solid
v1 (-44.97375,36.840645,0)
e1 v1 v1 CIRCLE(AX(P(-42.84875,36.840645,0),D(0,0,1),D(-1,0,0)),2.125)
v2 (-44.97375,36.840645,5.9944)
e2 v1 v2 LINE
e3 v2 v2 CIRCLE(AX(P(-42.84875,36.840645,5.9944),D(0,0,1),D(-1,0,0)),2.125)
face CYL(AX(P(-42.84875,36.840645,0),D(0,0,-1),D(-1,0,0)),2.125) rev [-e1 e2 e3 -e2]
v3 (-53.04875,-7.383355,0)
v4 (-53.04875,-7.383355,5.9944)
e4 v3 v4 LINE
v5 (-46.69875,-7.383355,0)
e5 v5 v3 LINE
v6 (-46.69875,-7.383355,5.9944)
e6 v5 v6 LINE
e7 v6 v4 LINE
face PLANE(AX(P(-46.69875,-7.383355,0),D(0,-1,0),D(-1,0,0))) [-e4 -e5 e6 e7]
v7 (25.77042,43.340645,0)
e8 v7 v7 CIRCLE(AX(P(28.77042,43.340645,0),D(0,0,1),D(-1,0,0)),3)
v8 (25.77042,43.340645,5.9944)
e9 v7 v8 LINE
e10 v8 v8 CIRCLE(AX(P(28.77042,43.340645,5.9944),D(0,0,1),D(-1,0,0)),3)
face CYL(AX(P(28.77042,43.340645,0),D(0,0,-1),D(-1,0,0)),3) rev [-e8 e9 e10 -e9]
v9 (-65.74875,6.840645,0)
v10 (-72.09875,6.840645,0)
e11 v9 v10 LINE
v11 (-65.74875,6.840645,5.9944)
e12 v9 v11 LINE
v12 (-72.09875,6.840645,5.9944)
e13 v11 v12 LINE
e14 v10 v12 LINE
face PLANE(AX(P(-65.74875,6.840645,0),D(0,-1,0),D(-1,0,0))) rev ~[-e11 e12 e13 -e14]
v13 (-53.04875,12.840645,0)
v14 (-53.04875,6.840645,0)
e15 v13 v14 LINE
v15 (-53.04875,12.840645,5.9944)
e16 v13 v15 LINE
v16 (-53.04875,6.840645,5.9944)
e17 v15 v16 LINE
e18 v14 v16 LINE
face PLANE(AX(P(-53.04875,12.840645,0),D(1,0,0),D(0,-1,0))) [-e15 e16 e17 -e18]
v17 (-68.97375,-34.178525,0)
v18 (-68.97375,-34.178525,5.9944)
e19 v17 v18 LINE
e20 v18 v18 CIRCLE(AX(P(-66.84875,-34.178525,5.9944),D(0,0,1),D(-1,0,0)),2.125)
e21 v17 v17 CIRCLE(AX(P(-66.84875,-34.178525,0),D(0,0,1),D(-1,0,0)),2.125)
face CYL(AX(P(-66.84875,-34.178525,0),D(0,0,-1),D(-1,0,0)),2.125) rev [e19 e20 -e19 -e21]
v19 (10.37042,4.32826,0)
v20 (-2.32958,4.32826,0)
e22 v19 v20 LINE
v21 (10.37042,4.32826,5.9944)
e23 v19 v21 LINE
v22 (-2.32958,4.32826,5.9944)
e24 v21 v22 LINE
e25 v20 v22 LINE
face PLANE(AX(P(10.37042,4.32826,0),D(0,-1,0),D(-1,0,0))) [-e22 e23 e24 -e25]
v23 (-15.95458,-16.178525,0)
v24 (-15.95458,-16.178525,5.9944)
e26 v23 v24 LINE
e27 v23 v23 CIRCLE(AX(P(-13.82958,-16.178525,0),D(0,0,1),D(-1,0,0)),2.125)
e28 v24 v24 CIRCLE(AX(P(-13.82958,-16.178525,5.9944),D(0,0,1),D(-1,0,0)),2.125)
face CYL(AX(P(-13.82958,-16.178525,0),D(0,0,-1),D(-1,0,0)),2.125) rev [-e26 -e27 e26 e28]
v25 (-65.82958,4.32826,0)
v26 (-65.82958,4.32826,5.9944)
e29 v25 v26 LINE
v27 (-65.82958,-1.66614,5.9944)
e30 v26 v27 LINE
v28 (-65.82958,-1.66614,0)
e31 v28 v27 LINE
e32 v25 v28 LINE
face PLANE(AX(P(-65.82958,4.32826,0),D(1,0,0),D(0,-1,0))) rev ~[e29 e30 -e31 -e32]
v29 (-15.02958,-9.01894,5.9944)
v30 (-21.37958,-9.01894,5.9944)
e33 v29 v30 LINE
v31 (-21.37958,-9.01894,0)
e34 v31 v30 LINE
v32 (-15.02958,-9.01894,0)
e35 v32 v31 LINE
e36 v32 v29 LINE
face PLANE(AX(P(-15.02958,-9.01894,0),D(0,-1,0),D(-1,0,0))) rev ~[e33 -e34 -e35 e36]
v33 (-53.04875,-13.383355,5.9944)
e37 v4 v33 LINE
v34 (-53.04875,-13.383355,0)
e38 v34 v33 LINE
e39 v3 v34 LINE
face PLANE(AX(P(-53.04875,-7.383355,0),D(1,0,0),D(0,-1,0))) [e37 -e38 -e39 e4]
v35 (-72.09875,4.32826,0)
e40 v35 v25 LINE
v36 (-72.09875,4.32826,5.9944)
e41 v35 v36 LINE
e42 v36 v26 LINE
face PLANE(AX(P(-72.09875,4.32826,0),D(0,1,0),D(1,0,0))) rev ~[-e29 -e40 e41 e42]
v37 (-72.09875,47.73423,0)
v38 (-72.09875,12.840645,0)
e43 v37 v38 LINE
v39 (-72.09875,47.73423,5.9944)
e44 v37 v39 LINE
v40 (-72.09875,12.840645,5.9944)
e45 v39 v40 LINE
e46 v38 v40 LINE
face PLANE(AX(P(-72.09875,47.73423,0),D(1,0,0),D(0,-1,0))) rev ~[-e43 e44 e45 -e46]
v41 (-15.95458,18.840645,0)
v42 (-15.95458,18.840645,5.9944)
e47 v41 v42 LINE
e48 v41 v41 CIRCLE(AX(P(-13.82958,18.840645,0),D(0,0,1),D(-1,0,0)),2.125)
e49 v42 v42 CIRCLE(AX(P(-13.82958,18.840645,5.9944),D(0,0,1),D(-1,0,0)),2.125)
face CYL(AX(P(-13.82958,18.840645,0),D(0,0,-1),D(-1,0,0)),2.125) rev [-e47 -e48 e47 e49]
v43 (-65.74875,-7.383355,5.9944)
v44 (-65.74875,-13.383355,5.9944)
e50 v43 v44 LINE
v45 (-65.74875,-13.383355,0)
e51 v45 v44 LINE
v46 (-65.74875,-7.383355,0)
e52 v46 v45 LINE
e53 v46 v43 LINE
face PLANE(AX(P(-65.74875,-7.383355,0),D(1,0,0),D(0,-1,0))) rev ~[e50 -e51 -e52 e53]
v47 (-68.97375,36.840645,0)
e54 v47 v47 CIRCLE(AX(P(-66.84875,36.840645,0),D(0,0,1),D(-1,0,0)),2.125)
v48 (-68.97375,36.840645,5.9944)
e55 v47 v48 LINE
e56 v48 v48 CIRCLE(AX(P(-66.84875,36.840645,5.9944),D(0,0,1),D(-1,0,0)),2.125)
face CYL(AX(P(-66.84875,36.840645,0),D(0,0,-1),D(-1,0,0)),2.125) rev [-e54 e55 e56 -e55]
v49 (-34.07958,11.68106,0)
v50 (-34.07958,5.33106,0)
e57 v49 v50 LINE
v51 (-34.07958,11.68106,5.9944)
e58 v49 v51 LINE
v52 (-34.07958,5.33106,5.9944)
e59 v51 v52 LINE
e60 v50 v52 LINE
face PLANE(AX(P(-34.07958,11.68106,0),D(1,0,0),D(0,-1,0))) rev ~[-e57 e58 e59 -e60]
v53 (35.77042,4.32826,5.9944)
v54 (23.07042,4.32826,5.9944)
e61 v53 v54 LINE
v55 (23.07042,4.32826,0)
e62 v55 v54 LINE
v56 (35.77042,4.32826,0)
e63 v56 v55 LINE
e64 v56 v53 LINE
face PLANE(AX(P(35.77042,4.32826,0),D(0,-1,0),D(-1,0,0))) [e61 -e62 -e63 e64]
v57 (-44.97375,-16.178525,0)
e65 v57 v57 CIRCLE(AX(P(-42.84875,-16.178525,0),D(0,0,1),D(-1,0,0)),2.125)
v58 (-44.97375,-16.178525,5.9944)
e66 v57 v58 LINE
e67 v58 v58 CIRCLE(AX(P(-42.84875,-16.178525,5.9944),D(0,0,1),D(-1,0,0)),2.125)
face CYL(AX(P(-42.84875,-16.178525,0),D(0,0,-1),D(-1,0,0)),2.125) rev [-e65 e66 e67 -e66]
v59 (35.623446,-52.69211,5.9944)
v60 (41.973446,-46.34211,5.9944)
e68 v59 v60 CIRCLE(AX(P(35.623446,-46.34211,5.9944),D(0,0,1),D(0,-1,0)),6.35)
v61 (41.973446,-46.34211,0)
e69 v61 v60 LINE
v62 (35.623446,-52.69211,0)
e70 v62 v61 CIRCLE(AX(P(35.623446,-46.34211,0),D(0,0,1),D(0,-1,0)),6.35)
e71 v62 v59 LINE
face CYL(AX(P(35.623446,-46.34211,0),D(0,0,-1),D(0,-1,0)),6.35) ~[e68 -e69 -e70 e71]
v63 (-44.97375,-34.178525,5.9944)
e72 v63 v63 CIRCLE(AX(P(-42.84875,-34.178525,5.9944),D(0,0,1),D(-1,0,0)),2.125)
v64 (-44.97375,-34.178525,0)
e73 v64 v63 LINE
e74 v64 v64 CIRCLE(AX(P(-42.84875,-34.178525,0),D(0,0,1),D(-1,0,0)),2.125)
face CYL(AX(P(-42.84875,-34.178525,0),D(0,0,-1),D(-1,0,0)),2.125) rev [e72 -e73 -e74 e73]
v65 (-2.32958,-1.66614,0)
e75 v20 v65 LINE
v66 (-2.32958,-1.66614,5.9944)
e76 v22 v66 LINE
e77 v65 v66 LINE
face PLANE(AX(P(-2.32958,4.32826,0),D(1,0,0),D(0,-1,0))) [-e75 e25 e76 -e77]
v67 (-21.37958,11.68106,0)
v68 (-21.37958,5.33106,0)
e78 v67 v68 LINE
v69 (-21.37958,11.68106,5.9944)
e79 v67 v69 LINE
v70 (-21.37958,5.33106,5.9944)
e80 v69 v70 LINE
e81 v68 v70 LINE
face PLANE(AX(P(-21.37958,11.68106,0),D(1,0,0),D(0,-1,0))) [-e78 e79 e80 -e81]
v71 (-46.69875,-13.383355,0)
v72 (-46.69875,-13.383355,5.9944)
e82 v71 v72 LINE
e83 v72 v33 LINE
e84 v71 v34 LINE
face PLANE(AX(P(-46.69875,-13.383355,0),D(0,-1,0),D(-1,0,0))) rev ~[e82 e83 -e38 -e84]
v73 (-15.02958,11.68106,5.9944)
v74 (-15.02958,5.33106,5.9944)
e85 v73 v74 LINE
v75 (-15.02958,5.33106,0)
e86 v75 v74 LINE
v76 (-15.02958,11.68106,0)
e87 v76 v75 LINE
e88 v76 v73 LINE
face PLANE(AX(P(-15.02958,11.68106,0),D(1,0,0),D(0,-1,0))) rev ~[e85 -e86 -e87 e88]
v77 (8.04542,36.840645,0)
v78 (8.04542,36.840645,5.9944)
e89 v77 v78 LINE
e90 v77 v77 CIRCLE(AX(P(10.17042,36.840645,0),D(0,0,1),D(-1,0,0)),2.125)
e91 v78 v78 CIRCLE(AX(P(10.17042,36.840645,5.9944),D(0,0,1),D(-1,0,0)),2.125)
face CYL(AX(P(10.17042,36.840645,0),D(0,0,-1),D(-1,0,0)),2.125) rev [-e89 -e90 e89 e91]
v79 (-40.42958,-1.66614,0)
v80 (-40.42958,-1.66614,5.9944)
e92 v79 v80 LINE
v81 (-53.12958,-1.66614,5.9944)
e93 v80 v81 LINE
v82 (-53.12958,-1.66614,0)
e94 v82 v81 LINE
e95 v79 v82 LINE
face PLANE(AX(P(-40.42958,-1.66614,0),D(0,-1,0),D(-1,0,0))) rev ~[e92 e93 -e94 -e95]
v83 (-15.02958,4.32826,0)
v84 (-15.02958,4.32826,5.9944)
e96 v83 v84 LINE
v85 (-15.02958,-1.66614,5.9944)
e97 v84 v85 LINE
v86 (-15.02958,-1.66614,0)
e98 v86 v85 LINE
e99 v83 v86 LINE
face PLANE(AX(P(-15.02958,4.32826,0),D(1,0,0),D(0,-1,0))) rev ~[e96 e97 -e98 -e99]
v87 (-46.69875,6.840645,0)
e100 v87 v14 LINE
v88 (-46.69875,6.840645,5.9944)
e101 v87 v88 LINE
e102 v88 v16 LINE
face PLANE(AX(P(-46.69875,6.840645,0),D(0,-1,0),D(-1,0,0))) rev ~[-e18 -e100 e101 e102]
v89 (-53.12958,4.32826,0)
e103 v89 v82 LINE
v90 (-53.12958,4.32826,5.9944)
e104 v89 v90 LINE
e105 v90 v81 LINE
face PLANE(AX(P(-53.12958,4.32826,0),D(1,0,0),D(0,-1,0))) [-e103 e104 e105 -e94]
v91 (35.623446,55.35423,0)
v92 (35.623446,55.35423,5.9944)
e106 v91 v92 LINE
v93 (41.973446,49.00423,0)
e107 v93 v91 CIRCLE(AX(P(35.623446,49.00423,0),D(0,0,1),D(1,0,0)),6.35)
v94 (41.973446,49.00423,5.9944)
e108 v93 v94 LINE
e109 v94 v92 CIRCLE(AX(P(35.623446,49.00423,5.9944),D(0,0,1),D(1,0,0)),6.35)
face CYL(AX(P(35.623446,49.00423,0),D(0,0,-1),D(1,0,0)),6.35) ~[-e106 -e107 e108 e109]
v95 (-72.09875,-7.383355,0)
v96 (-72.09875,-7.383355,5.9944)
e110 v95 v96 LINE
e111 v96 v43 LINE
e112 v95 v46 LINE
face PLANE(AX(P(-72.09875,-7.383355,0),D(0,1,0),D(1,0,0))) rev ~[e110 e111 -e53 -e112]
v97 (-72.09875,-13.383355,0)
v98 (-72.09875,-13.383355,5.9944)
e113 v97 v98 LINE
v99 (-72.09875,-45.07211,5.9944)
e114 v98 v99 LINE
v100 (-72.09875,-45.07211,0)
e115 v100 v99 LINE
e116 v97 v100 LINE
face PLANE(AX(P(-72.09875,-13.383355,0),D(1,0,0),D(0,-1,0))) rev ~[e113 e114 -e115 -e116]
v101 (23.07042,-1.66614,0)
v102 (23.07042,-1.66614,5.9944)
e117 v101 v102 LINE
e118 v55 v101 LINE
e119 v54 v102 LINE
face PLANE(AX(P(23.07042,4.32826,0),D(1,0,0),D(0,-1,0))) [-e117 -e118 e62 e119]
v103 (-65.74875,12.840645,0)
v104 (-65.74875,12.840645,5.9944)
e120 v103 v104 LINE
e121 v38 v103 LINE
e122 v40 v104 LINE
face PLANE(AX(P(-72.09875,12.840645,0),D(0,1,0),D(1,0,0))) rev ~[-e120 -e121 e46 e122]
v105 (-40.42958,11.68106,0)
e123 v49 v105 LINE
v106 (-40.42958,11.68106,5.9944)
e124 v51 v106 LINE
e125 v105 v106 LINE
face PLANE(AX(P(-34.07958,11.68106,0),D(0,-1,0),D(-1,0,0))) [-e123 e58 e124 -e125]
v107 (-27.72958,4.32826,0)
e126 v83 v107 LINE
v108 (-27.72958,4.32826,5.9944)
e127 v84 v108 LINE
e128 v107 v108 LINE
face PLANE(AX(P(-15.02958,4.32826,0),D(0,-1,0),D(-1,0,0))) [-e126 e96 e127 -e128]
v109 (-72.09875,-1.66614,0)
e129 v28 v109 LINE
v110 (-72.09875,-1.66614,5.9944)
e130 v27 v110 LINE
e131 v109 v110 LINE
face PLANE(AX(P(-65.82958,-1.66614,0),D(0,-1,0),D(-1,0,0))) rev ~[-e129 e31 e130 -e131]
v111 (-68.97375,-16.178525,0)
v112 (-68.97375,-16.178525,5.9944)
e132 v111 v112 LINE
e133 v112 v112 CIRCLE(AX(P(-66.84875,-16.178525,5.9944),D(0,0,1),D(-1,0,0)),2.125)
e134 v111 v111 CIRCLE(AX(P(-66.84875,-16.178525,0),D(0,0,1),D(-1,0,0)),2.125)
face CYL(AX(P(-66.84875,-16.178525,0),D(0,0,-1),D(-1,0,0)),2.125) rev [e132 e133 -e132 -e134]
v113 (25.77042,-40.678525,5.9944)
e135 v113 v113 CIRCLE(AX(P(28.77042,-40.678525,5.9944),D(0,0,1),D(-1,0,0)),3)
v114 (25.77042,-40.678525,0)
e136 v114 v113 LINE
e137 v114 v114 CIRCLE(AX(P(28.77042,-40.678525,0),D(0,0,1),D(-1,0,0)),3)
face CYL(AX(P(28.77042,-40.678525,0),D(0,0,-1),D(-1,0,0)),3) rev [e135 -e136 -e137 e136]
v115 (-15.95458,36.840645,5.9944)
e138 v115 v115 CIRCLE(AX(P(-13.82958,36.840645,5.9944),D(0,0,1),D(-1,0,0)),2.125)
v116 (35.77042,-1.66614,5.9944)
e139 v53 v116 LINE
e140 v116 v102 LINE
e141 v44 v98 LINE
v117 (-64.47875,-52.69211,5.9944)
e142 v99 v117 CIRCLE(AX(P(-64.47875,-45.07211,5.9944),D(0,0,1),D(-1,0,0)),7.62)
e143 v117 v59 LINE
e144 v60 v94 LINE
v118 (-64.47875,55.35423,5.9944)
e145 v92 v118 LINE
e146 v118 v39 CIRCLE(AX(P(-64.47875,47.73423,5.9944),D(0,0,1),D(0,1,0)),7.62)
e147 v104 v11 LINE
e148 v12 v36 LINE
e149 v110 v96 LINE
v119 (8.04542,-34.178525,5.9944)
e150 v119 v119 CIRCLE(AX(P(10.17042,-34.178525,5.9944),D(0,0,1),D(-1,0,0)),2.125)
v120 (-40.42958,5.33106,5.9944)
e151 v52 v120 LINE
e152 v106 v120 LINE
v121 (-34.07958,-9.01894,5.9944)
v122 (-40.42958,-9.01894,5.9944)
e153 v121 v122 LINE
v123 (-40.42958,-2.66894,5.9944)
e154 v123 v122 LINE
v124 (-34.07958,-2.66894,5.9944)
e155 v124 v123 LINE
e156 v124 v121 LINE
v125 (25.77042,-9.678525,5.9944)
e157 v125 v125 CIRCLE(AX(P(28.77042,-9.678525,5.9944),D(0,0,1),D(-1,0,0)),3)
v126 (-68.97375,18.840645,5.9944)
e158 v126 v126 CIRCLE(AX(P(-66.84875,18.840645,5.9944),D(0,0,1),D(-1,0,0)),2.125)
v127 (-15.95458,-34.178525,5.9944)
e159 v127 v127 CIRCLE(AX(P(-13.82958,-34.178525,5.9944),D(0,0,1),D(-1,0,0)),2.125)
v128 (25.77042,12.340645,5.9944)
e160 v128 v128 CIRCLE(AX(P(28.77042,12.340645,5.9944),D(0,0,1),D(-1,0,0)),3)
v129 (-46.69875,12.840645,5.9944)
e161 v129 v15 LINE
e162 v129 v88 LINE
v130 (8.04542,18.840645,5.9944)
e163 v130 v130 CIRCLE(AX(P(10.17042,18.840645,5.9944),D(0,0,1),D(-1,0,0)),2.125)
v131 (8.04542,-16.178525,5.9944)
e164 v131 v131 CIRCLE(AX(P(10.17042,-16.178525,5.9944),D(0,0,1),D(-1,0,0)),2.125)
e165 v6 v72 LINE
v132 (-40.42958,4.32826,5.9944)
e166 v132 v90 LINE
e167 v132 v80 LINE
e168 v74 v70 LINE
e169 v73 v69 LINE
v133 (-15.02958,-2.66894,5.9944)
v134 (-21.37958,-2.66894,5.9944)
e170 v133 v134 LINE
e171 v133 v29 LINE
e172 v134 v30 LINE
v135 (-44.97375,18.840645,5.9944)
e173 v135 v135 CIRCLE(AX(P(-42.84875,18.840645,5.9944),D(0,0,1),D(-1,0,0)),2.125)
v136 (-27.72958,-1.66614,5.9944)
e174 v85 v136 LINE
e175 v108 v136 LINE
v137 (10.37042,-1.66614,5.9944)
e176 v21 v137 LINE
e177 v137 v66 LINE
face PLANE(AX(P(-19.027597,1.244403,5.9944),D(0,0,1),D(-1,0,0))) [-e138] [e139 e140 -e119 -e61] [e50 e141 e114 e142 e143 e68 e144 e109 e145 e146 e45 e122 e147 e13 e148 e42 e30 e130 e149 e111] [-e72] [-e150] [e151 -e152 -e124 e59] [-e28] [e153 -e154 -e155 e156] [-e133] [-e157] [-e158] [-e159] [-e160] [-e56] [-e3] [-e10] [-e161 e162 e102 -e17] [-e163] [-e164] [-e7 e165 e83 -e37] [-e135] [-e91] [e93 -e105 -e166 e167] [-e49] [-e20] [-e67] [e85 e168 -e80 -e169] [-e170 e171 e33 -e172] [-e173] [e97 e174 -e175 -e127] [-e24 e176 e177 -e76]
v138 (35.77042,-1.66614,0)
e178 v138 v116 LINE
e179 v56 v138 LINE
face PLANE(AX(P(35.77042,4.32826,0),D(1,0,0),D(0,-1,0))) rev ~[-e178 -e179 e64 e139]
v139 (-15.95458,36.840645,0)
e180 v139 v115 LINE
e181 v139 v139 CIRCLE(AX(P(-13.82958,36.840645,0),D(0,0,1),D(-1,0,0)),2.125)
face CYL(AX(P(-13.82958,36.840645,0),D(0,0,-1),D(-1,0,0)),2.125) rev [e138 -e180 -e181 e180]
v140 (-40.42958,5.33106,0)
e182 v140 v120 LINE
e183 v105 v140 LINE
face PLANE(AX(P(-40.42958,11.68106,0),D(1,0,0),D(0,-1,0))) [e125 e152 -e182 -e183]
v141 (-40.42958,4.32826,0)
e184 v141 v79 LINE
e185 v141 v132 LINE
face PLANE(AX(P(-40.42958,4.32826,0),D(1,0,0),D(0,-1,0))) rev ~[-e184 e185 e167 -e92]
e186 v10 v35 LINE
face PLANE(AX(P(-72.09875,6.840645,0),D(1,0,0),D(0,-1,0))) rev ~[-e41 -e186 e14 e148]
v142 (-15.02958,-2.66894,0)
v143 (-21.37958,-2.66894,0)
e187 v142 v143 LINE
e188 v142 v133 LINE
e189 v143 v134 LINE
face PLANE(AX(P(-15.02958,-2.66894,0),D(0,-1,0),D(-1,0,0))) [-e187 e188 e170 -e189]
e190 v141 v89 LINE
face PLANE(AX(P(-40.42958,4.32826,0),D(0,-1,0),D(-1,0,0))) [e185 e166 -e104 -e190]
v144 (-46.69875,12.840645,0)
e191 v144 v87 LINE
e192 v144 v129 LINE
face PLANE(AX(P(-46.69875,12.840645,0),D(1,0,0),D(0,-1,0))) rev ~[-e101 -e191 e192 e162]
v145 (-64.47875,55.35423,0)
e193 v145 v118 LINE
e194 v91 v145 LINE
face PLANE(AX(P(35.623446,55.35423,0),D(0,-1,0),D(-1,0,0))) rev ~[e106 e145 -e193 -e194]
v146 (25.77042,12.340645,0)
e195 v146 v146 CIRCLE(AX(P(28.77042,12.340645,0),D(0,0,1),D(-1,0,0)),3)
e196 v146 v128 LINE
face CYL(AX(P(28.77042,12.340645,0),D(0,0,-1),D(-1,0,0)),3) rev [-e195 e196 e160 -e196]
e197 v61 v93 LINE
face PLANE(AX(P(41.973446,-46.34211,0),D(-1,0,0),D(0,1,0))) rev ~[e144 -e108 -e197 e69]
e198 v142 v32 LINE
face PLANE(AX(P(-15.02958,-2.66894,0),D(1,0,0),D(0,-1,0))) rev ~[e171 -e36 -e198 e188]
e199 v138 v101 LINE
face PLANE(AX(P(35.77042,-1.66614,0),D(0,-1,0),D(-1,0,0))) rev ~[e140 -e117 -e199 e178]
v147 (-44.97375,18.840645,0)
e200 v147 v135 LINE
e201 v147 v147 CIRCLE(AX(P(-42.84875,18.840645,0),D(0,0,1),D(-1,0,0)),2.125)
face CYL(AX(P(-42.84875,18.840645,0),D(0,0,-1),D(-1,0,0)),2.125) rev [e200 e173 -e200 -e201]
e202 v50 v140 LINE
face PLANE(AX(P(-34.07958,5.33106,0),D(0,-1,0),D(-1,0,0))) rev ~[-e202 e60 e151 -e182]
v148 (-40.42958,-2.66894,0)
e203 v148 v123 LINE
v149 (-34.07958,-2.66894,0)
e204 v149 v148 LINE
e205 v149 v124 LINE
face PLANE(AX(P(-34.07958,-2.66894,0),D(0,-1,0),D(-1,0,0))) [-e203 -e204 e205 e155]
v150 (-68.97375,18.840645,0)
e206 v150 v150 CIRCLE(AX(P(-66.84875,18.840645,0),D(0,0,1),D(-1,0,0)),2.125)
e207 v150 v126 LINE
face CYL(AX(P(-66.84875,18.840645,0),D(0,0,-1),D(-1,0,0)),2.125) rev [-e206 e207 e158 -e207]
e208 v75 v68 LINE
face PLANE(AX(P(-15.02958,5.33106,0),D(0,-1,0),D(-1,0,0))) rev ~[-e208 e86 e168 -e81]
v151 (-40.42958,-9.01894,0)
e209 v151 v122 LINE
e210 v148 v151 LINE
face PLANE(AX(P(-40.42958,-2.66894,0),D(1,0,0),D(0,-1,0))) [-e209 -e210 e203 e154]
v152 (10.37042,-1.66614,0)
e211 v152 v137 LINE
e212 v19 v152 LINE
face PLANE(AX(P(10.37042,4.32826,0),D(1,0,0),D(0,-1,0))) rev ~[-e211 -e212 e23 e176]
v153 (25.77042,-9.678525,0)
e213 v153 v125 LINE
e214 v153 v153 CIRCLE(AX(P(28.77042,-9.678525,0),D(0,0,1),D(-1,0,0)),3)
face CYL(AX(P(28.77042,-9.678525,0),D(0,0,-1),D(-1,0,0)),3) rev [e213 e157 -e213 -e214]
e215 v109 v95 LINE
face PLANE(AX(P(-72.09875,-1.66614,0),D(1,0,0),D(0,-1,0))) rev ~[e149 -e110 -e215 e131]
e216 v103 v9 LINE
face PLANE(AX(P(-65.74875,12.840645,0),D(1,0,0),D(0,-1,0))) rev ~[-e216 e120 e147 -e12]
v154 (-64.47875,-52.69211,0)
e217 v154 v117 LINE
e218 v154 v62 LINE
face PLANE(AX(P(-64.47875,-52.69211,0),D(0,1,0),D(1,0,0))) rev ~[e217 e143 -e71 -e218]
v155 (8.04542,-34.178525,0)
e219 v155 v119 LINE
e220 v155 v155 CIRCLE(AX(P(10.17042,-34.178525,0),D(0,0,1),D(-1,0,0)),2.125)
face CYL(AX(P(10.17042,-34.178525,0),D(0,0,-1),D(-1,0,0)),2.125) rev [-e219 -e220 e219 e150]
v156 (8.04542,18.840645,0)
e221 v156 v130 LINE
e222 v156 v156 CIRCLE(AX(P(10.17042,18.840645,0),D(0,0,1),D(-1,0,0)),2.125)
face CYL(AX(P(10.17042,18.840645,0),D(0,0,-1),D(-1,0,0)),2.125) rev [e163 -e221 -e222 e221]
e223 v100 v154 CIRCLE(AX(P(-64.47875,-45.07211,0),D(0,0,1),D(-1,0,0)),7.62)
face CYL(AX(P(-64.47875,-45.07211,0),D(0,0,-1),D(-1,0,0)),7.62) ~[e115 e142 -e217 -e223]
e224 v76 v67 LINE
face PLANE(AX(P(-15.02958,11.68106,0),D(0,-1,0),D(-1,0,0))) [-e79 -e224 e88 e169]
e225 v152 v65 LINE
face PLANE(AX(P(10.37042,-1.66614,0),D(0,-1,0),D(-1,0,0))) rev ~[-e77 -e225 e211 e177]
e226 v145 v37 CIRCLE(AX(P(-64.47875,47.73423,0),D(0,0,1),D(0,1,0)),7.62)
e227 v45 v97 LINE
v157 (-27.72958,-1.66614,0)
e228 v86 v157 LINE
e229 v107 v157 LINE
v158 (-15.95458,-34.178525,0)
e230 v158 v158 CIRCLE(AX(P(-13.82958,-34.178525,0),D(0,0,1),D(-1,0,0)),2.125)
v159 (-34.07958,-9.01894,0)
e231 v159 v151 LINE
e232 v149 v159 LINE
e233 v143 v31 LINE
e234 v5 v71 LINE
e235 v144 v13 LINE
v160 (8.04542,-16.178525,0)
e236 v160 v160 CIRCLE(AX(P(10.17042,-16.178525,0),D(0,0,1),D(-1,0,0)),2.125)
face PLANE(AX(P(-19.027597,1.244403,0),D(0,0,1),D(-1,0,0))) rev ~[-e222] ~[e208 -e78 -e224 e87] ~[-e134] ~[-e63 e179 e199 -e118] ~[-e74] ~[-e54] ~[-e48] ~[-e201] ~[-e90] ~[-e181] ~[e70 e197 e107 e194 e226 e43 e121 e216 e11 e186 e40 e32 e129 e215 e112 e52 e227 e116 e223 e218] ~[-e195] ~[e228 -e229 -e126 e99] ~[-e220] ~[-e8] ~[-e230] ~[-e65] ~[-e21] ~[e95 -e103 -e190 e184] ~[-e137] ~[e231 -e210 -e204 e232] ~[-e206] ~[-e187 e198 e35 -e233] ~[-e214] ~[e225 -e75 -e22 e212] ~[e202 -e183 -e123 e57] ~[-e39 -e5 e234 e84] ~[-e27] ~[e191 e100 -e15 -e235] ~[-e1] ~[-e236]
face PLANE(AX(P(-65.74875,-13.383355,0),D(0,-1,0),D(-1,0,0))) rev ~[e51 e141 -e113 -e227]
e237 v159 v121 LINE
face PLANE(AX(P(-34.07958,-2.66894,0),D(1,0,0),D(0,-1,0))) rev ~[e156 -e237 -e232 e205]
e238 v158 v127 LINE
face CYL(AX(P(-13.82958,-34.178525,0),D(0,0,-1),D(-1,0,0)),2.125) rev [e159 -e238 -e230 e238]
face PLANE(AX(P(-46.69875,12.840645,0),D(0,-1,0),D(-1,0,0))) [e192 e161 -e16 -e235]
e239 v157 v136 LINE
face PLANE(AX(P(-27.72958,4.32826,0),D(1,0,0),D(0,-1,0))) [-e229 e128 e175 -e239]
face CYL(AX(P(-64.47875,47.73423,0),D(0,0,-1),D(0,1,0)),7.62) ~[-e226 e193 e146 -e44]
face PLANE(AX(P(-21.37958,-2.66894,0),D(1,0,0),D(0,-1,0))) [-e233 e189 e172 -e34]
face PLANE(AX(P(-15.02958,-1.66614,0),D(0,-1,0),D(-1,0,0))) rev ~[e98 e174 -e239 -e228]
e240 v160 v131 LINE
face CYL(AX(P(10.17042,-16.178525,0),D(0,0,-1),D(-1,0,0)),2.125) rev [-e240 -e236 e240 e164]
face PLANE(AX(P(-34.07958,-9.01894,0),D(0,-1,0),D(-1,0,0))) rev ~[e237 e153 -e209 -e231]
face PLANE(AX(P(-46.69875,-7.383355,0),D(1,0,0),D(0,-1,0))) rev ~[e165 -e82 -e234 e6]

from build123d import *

# Parameters (mm, degrees)
SKETCH1_R           = 2.125
SKETCH1_R_2         = 3
SKETCH1_W           = 6.35
SKETCH1_H           = 6
SKETCH1_W_2         = 12.7
SKETCH1_H_2         = 5.9944
SKETCH1_H_3         = 6.35
BOSS_EXTRUDE1_DEPTH = 5.9944


with BuildPart() as part:
    # Sketch1 → Boss-Extrude1 (new body)
    with BuildSketch(Plane(origin=(0, 0, 0), x_dir=(-1, 0, 0), z_dir=(0, 0, 1))):
        with BuildLine():
            Line((70.702589937, 1.66614002), (72.098749997, 1.66614002))
            Line((72.098749997, 1.66614002), (72.098749997, 7.383354962))
            Line((72.098749997, 7.383354962), (65.748749997, 7.383354962))
            Line((65.748749997, 7.383354962), (65.748749997, 13.383354962))
            Line((65.748749997, 13.383354962), (72.098749997, 13.383354962))
            Line((72.098749997, 13.383354962), (72.098749997, 45.072109768))
            ThreePointArc((72.098749997, 45.072109768), (69.866903669, 50.460263441), (64.478749997, 52.692109768))
            Line((64.478749997, 52.692109768), (45.302589937, 52.692109768))
            Line((45.302589937, 52.692109768), (19.902589937, 52.692109768))
            Line((19.902589937, 52.692109768), (-35.623445702, 52.692109768))
            ThreePointArc((-35.623445702, 52.692109768), (-40.113573763, 50.832237829), (-41.973445702, 46.342109768))
            Line((-41.973445702, 46.342109768), (-41.973445702, -49.004229729))
            ThreePointArc((-41.973445702, -49.004229729), (-40.113573763, -53.494357789), (-35.623445702, -55.354229729))
            Line((-35.623445702, -55.354229729), (19.902589937, -55.354229729))
            Line((19.902589937, -55.354229729), (45.302589937, -55.354229729))
            Line((45.302589937, -55.354229729), (64.478749997, -55.354229729))
            ThreePointArc((64.478749997, -55.354229729), (69.866903669, -53.122383402), (72.098749997, -47.734229729))
            Line((72.098749997, -47.734229729), (72.098749997, -12.840645038))
            Line((72.098749997, -12.840645038), (65.748749997, -12.840645038))
            Line((65.748749997, -12.840645038), (65.748749997, -6.840645038))
            Line((65.748749997, -6.840645038), (72.098749997, -6.840645038))
            Line((72.098749997, -6.840645038), (72.098749997, -4.32825998))
            Line((72.098749997, -4.32825998), (70.702589937, -4.32825998))
            Line((70.702589937, -4.32825998), (65.829579937, -4.32825998))
            Line((65.829579937, -4.32825998), (65.829579937, 1.66614002))
            Line((65.829579937, 1.66614002), (70.702589937, 1.66614002))
        make_face()
        with Locations((-10.170420063, -18.840645038)):
            Circle(SKETCH1_R, mode=Mode.SUBTRACT)
        with Locations((66.848749997, -36.840645038)):
            Circle(SKETCH1_R, mode=Mode.SUBTRACT)
        with Locations((42.848749997, -18.840645038)):
            Circle(SKETCH1_R, mode=Mode.SUBTRACT)
        with Locations((-28.770420063, -43.34064498)):
            Circle(SKETCH1_R_2, mode=Mode.SUBTRACT)
        with Locations((-28.770420063, -12.34064498)):
            Circle(SKETCH1_R_2, mode=Mode.SUBTRACT)
        with Locations((13.829579937, -18.840645038)):
            Circle(SKETCH1_R, mode=Mode.SUBTRACT)
        with Locations((42.848749997, -36.840645038)):
            Circle(SKETCH1_R, mode=Mode.SUBTRACT)
        with Locations((-10.170420063, -36.840645038)):
            Circle(SKETCH1_R, mode=Mode.SUBTRACT)
        with Locations((66.848749997, -18.840645038)):
            Circle(SKETCH1_R, mode=Mode.SUBTRACT)
        with Locations((13.829579937, -36.840645038)):
            Circle(SKETCH1_R, mode=Mode.SUBTRACT)
        with Locations((-28.770420063, 9.67852502)):
            Circle(SKETCH1_R_2, mode=Mode.SUBTRACT)
        with Locations((-28.770420063, 40.67852502)):
            Circle(SKETCH1_R_2, mode=Mode.SUBTRACT)
        with Locations((-10.170420063, 34.178525078)):
            Circle(SKETCH1_R, mode=Mode.SUBTRACT)
        with Locations((13.829579937, 34.178525078)):
            Circle(SKETCH1_R, mode=Mode.SUBTRACT)
        with Locations((13.829579937, 16.178525078)):
            Circle(SKETCH1_R, mode=Mode.SUBTRACT)
        with Locations((-10.170420063, 16.178525078)):
            Circle(SKETCH1_R, mode=Mode.SUBTRACT)
        with Locations((42.848749997, 34.178525078)):
            Circle(SKETCH1_R, mode=Mode.SUBTRACT)
        with Locations((66.848749997, 34.178525078)):
            Circle(SKETCH1_R, mode=Mode.SUBTRACT)
        with Locations((66.848749997, 16.178525078)):
            Circle(SKETCH1_R, mode=Mode.SUBTRACT)
        with Locations((42.848749997, 16.178525078)):
            Circle(SKETCH1_R, mode=Mode.SUBTRACT)
        with Locations((49.873749997, 10.383354962)):
            Rectangle(SKETCH1_W, SKETCH1_H, mode=Mode.SUBTRACT)
        with Locations((-29.420420063, -1.33105998)):
            Rectangle(SKETCH1_W_2, SKETCH1_H_2, mode=Mode.SUBTRACT)
        with Locations((49.873749997, -9.840645038)):
            Rectangle(SKETCH1_W, SKETCH1_H, mode=Mode.SUBTRACT)
        with Locations((-4.020420063, -1.33105998)):
            Rectangle(SKETCH1_W_2, SKETCH1_H_2, mode=Mode.SUBTRACT)
        with Locations((21.379579937, -1.33105998)):
            Rectangle(SKETCH1_W_2, SKETCH1_H_2, mode=Mode.SUBTRACT)
        with Locations((46.779579937, -1.33105998)):
            Rectangle(SKETCH1_W_2, SKETCH1_H_2, mode=Mode.SUBTRACT)
        with Locations((18.204579937, 5.84394002)):
            Rectangle(SKETCH1_W, SKETCH1_H_3, mode=Mode.SUBTRACT)
        with Locations((37.254579937, -8.50605998)):
            Rectangle(SKETCH1_W, SKETCH1_H_3, mode=Mode.SUBTRACT)
        with Locations((18.204579937, -8.50605998)):
            Rectangle(SKETCH1_W, SKETCH1_H_3, mode=Mode.SUBTRACT)
        with Locations((37.254579937, 5.84394002)):
            Rectangle(SKETCH1_W, SKETCH1_H_3, mode=Mode.SUBTRACT)
    extrude(amount=BOSS_EXTRUDE1_DEPTH)


solid = part.part
